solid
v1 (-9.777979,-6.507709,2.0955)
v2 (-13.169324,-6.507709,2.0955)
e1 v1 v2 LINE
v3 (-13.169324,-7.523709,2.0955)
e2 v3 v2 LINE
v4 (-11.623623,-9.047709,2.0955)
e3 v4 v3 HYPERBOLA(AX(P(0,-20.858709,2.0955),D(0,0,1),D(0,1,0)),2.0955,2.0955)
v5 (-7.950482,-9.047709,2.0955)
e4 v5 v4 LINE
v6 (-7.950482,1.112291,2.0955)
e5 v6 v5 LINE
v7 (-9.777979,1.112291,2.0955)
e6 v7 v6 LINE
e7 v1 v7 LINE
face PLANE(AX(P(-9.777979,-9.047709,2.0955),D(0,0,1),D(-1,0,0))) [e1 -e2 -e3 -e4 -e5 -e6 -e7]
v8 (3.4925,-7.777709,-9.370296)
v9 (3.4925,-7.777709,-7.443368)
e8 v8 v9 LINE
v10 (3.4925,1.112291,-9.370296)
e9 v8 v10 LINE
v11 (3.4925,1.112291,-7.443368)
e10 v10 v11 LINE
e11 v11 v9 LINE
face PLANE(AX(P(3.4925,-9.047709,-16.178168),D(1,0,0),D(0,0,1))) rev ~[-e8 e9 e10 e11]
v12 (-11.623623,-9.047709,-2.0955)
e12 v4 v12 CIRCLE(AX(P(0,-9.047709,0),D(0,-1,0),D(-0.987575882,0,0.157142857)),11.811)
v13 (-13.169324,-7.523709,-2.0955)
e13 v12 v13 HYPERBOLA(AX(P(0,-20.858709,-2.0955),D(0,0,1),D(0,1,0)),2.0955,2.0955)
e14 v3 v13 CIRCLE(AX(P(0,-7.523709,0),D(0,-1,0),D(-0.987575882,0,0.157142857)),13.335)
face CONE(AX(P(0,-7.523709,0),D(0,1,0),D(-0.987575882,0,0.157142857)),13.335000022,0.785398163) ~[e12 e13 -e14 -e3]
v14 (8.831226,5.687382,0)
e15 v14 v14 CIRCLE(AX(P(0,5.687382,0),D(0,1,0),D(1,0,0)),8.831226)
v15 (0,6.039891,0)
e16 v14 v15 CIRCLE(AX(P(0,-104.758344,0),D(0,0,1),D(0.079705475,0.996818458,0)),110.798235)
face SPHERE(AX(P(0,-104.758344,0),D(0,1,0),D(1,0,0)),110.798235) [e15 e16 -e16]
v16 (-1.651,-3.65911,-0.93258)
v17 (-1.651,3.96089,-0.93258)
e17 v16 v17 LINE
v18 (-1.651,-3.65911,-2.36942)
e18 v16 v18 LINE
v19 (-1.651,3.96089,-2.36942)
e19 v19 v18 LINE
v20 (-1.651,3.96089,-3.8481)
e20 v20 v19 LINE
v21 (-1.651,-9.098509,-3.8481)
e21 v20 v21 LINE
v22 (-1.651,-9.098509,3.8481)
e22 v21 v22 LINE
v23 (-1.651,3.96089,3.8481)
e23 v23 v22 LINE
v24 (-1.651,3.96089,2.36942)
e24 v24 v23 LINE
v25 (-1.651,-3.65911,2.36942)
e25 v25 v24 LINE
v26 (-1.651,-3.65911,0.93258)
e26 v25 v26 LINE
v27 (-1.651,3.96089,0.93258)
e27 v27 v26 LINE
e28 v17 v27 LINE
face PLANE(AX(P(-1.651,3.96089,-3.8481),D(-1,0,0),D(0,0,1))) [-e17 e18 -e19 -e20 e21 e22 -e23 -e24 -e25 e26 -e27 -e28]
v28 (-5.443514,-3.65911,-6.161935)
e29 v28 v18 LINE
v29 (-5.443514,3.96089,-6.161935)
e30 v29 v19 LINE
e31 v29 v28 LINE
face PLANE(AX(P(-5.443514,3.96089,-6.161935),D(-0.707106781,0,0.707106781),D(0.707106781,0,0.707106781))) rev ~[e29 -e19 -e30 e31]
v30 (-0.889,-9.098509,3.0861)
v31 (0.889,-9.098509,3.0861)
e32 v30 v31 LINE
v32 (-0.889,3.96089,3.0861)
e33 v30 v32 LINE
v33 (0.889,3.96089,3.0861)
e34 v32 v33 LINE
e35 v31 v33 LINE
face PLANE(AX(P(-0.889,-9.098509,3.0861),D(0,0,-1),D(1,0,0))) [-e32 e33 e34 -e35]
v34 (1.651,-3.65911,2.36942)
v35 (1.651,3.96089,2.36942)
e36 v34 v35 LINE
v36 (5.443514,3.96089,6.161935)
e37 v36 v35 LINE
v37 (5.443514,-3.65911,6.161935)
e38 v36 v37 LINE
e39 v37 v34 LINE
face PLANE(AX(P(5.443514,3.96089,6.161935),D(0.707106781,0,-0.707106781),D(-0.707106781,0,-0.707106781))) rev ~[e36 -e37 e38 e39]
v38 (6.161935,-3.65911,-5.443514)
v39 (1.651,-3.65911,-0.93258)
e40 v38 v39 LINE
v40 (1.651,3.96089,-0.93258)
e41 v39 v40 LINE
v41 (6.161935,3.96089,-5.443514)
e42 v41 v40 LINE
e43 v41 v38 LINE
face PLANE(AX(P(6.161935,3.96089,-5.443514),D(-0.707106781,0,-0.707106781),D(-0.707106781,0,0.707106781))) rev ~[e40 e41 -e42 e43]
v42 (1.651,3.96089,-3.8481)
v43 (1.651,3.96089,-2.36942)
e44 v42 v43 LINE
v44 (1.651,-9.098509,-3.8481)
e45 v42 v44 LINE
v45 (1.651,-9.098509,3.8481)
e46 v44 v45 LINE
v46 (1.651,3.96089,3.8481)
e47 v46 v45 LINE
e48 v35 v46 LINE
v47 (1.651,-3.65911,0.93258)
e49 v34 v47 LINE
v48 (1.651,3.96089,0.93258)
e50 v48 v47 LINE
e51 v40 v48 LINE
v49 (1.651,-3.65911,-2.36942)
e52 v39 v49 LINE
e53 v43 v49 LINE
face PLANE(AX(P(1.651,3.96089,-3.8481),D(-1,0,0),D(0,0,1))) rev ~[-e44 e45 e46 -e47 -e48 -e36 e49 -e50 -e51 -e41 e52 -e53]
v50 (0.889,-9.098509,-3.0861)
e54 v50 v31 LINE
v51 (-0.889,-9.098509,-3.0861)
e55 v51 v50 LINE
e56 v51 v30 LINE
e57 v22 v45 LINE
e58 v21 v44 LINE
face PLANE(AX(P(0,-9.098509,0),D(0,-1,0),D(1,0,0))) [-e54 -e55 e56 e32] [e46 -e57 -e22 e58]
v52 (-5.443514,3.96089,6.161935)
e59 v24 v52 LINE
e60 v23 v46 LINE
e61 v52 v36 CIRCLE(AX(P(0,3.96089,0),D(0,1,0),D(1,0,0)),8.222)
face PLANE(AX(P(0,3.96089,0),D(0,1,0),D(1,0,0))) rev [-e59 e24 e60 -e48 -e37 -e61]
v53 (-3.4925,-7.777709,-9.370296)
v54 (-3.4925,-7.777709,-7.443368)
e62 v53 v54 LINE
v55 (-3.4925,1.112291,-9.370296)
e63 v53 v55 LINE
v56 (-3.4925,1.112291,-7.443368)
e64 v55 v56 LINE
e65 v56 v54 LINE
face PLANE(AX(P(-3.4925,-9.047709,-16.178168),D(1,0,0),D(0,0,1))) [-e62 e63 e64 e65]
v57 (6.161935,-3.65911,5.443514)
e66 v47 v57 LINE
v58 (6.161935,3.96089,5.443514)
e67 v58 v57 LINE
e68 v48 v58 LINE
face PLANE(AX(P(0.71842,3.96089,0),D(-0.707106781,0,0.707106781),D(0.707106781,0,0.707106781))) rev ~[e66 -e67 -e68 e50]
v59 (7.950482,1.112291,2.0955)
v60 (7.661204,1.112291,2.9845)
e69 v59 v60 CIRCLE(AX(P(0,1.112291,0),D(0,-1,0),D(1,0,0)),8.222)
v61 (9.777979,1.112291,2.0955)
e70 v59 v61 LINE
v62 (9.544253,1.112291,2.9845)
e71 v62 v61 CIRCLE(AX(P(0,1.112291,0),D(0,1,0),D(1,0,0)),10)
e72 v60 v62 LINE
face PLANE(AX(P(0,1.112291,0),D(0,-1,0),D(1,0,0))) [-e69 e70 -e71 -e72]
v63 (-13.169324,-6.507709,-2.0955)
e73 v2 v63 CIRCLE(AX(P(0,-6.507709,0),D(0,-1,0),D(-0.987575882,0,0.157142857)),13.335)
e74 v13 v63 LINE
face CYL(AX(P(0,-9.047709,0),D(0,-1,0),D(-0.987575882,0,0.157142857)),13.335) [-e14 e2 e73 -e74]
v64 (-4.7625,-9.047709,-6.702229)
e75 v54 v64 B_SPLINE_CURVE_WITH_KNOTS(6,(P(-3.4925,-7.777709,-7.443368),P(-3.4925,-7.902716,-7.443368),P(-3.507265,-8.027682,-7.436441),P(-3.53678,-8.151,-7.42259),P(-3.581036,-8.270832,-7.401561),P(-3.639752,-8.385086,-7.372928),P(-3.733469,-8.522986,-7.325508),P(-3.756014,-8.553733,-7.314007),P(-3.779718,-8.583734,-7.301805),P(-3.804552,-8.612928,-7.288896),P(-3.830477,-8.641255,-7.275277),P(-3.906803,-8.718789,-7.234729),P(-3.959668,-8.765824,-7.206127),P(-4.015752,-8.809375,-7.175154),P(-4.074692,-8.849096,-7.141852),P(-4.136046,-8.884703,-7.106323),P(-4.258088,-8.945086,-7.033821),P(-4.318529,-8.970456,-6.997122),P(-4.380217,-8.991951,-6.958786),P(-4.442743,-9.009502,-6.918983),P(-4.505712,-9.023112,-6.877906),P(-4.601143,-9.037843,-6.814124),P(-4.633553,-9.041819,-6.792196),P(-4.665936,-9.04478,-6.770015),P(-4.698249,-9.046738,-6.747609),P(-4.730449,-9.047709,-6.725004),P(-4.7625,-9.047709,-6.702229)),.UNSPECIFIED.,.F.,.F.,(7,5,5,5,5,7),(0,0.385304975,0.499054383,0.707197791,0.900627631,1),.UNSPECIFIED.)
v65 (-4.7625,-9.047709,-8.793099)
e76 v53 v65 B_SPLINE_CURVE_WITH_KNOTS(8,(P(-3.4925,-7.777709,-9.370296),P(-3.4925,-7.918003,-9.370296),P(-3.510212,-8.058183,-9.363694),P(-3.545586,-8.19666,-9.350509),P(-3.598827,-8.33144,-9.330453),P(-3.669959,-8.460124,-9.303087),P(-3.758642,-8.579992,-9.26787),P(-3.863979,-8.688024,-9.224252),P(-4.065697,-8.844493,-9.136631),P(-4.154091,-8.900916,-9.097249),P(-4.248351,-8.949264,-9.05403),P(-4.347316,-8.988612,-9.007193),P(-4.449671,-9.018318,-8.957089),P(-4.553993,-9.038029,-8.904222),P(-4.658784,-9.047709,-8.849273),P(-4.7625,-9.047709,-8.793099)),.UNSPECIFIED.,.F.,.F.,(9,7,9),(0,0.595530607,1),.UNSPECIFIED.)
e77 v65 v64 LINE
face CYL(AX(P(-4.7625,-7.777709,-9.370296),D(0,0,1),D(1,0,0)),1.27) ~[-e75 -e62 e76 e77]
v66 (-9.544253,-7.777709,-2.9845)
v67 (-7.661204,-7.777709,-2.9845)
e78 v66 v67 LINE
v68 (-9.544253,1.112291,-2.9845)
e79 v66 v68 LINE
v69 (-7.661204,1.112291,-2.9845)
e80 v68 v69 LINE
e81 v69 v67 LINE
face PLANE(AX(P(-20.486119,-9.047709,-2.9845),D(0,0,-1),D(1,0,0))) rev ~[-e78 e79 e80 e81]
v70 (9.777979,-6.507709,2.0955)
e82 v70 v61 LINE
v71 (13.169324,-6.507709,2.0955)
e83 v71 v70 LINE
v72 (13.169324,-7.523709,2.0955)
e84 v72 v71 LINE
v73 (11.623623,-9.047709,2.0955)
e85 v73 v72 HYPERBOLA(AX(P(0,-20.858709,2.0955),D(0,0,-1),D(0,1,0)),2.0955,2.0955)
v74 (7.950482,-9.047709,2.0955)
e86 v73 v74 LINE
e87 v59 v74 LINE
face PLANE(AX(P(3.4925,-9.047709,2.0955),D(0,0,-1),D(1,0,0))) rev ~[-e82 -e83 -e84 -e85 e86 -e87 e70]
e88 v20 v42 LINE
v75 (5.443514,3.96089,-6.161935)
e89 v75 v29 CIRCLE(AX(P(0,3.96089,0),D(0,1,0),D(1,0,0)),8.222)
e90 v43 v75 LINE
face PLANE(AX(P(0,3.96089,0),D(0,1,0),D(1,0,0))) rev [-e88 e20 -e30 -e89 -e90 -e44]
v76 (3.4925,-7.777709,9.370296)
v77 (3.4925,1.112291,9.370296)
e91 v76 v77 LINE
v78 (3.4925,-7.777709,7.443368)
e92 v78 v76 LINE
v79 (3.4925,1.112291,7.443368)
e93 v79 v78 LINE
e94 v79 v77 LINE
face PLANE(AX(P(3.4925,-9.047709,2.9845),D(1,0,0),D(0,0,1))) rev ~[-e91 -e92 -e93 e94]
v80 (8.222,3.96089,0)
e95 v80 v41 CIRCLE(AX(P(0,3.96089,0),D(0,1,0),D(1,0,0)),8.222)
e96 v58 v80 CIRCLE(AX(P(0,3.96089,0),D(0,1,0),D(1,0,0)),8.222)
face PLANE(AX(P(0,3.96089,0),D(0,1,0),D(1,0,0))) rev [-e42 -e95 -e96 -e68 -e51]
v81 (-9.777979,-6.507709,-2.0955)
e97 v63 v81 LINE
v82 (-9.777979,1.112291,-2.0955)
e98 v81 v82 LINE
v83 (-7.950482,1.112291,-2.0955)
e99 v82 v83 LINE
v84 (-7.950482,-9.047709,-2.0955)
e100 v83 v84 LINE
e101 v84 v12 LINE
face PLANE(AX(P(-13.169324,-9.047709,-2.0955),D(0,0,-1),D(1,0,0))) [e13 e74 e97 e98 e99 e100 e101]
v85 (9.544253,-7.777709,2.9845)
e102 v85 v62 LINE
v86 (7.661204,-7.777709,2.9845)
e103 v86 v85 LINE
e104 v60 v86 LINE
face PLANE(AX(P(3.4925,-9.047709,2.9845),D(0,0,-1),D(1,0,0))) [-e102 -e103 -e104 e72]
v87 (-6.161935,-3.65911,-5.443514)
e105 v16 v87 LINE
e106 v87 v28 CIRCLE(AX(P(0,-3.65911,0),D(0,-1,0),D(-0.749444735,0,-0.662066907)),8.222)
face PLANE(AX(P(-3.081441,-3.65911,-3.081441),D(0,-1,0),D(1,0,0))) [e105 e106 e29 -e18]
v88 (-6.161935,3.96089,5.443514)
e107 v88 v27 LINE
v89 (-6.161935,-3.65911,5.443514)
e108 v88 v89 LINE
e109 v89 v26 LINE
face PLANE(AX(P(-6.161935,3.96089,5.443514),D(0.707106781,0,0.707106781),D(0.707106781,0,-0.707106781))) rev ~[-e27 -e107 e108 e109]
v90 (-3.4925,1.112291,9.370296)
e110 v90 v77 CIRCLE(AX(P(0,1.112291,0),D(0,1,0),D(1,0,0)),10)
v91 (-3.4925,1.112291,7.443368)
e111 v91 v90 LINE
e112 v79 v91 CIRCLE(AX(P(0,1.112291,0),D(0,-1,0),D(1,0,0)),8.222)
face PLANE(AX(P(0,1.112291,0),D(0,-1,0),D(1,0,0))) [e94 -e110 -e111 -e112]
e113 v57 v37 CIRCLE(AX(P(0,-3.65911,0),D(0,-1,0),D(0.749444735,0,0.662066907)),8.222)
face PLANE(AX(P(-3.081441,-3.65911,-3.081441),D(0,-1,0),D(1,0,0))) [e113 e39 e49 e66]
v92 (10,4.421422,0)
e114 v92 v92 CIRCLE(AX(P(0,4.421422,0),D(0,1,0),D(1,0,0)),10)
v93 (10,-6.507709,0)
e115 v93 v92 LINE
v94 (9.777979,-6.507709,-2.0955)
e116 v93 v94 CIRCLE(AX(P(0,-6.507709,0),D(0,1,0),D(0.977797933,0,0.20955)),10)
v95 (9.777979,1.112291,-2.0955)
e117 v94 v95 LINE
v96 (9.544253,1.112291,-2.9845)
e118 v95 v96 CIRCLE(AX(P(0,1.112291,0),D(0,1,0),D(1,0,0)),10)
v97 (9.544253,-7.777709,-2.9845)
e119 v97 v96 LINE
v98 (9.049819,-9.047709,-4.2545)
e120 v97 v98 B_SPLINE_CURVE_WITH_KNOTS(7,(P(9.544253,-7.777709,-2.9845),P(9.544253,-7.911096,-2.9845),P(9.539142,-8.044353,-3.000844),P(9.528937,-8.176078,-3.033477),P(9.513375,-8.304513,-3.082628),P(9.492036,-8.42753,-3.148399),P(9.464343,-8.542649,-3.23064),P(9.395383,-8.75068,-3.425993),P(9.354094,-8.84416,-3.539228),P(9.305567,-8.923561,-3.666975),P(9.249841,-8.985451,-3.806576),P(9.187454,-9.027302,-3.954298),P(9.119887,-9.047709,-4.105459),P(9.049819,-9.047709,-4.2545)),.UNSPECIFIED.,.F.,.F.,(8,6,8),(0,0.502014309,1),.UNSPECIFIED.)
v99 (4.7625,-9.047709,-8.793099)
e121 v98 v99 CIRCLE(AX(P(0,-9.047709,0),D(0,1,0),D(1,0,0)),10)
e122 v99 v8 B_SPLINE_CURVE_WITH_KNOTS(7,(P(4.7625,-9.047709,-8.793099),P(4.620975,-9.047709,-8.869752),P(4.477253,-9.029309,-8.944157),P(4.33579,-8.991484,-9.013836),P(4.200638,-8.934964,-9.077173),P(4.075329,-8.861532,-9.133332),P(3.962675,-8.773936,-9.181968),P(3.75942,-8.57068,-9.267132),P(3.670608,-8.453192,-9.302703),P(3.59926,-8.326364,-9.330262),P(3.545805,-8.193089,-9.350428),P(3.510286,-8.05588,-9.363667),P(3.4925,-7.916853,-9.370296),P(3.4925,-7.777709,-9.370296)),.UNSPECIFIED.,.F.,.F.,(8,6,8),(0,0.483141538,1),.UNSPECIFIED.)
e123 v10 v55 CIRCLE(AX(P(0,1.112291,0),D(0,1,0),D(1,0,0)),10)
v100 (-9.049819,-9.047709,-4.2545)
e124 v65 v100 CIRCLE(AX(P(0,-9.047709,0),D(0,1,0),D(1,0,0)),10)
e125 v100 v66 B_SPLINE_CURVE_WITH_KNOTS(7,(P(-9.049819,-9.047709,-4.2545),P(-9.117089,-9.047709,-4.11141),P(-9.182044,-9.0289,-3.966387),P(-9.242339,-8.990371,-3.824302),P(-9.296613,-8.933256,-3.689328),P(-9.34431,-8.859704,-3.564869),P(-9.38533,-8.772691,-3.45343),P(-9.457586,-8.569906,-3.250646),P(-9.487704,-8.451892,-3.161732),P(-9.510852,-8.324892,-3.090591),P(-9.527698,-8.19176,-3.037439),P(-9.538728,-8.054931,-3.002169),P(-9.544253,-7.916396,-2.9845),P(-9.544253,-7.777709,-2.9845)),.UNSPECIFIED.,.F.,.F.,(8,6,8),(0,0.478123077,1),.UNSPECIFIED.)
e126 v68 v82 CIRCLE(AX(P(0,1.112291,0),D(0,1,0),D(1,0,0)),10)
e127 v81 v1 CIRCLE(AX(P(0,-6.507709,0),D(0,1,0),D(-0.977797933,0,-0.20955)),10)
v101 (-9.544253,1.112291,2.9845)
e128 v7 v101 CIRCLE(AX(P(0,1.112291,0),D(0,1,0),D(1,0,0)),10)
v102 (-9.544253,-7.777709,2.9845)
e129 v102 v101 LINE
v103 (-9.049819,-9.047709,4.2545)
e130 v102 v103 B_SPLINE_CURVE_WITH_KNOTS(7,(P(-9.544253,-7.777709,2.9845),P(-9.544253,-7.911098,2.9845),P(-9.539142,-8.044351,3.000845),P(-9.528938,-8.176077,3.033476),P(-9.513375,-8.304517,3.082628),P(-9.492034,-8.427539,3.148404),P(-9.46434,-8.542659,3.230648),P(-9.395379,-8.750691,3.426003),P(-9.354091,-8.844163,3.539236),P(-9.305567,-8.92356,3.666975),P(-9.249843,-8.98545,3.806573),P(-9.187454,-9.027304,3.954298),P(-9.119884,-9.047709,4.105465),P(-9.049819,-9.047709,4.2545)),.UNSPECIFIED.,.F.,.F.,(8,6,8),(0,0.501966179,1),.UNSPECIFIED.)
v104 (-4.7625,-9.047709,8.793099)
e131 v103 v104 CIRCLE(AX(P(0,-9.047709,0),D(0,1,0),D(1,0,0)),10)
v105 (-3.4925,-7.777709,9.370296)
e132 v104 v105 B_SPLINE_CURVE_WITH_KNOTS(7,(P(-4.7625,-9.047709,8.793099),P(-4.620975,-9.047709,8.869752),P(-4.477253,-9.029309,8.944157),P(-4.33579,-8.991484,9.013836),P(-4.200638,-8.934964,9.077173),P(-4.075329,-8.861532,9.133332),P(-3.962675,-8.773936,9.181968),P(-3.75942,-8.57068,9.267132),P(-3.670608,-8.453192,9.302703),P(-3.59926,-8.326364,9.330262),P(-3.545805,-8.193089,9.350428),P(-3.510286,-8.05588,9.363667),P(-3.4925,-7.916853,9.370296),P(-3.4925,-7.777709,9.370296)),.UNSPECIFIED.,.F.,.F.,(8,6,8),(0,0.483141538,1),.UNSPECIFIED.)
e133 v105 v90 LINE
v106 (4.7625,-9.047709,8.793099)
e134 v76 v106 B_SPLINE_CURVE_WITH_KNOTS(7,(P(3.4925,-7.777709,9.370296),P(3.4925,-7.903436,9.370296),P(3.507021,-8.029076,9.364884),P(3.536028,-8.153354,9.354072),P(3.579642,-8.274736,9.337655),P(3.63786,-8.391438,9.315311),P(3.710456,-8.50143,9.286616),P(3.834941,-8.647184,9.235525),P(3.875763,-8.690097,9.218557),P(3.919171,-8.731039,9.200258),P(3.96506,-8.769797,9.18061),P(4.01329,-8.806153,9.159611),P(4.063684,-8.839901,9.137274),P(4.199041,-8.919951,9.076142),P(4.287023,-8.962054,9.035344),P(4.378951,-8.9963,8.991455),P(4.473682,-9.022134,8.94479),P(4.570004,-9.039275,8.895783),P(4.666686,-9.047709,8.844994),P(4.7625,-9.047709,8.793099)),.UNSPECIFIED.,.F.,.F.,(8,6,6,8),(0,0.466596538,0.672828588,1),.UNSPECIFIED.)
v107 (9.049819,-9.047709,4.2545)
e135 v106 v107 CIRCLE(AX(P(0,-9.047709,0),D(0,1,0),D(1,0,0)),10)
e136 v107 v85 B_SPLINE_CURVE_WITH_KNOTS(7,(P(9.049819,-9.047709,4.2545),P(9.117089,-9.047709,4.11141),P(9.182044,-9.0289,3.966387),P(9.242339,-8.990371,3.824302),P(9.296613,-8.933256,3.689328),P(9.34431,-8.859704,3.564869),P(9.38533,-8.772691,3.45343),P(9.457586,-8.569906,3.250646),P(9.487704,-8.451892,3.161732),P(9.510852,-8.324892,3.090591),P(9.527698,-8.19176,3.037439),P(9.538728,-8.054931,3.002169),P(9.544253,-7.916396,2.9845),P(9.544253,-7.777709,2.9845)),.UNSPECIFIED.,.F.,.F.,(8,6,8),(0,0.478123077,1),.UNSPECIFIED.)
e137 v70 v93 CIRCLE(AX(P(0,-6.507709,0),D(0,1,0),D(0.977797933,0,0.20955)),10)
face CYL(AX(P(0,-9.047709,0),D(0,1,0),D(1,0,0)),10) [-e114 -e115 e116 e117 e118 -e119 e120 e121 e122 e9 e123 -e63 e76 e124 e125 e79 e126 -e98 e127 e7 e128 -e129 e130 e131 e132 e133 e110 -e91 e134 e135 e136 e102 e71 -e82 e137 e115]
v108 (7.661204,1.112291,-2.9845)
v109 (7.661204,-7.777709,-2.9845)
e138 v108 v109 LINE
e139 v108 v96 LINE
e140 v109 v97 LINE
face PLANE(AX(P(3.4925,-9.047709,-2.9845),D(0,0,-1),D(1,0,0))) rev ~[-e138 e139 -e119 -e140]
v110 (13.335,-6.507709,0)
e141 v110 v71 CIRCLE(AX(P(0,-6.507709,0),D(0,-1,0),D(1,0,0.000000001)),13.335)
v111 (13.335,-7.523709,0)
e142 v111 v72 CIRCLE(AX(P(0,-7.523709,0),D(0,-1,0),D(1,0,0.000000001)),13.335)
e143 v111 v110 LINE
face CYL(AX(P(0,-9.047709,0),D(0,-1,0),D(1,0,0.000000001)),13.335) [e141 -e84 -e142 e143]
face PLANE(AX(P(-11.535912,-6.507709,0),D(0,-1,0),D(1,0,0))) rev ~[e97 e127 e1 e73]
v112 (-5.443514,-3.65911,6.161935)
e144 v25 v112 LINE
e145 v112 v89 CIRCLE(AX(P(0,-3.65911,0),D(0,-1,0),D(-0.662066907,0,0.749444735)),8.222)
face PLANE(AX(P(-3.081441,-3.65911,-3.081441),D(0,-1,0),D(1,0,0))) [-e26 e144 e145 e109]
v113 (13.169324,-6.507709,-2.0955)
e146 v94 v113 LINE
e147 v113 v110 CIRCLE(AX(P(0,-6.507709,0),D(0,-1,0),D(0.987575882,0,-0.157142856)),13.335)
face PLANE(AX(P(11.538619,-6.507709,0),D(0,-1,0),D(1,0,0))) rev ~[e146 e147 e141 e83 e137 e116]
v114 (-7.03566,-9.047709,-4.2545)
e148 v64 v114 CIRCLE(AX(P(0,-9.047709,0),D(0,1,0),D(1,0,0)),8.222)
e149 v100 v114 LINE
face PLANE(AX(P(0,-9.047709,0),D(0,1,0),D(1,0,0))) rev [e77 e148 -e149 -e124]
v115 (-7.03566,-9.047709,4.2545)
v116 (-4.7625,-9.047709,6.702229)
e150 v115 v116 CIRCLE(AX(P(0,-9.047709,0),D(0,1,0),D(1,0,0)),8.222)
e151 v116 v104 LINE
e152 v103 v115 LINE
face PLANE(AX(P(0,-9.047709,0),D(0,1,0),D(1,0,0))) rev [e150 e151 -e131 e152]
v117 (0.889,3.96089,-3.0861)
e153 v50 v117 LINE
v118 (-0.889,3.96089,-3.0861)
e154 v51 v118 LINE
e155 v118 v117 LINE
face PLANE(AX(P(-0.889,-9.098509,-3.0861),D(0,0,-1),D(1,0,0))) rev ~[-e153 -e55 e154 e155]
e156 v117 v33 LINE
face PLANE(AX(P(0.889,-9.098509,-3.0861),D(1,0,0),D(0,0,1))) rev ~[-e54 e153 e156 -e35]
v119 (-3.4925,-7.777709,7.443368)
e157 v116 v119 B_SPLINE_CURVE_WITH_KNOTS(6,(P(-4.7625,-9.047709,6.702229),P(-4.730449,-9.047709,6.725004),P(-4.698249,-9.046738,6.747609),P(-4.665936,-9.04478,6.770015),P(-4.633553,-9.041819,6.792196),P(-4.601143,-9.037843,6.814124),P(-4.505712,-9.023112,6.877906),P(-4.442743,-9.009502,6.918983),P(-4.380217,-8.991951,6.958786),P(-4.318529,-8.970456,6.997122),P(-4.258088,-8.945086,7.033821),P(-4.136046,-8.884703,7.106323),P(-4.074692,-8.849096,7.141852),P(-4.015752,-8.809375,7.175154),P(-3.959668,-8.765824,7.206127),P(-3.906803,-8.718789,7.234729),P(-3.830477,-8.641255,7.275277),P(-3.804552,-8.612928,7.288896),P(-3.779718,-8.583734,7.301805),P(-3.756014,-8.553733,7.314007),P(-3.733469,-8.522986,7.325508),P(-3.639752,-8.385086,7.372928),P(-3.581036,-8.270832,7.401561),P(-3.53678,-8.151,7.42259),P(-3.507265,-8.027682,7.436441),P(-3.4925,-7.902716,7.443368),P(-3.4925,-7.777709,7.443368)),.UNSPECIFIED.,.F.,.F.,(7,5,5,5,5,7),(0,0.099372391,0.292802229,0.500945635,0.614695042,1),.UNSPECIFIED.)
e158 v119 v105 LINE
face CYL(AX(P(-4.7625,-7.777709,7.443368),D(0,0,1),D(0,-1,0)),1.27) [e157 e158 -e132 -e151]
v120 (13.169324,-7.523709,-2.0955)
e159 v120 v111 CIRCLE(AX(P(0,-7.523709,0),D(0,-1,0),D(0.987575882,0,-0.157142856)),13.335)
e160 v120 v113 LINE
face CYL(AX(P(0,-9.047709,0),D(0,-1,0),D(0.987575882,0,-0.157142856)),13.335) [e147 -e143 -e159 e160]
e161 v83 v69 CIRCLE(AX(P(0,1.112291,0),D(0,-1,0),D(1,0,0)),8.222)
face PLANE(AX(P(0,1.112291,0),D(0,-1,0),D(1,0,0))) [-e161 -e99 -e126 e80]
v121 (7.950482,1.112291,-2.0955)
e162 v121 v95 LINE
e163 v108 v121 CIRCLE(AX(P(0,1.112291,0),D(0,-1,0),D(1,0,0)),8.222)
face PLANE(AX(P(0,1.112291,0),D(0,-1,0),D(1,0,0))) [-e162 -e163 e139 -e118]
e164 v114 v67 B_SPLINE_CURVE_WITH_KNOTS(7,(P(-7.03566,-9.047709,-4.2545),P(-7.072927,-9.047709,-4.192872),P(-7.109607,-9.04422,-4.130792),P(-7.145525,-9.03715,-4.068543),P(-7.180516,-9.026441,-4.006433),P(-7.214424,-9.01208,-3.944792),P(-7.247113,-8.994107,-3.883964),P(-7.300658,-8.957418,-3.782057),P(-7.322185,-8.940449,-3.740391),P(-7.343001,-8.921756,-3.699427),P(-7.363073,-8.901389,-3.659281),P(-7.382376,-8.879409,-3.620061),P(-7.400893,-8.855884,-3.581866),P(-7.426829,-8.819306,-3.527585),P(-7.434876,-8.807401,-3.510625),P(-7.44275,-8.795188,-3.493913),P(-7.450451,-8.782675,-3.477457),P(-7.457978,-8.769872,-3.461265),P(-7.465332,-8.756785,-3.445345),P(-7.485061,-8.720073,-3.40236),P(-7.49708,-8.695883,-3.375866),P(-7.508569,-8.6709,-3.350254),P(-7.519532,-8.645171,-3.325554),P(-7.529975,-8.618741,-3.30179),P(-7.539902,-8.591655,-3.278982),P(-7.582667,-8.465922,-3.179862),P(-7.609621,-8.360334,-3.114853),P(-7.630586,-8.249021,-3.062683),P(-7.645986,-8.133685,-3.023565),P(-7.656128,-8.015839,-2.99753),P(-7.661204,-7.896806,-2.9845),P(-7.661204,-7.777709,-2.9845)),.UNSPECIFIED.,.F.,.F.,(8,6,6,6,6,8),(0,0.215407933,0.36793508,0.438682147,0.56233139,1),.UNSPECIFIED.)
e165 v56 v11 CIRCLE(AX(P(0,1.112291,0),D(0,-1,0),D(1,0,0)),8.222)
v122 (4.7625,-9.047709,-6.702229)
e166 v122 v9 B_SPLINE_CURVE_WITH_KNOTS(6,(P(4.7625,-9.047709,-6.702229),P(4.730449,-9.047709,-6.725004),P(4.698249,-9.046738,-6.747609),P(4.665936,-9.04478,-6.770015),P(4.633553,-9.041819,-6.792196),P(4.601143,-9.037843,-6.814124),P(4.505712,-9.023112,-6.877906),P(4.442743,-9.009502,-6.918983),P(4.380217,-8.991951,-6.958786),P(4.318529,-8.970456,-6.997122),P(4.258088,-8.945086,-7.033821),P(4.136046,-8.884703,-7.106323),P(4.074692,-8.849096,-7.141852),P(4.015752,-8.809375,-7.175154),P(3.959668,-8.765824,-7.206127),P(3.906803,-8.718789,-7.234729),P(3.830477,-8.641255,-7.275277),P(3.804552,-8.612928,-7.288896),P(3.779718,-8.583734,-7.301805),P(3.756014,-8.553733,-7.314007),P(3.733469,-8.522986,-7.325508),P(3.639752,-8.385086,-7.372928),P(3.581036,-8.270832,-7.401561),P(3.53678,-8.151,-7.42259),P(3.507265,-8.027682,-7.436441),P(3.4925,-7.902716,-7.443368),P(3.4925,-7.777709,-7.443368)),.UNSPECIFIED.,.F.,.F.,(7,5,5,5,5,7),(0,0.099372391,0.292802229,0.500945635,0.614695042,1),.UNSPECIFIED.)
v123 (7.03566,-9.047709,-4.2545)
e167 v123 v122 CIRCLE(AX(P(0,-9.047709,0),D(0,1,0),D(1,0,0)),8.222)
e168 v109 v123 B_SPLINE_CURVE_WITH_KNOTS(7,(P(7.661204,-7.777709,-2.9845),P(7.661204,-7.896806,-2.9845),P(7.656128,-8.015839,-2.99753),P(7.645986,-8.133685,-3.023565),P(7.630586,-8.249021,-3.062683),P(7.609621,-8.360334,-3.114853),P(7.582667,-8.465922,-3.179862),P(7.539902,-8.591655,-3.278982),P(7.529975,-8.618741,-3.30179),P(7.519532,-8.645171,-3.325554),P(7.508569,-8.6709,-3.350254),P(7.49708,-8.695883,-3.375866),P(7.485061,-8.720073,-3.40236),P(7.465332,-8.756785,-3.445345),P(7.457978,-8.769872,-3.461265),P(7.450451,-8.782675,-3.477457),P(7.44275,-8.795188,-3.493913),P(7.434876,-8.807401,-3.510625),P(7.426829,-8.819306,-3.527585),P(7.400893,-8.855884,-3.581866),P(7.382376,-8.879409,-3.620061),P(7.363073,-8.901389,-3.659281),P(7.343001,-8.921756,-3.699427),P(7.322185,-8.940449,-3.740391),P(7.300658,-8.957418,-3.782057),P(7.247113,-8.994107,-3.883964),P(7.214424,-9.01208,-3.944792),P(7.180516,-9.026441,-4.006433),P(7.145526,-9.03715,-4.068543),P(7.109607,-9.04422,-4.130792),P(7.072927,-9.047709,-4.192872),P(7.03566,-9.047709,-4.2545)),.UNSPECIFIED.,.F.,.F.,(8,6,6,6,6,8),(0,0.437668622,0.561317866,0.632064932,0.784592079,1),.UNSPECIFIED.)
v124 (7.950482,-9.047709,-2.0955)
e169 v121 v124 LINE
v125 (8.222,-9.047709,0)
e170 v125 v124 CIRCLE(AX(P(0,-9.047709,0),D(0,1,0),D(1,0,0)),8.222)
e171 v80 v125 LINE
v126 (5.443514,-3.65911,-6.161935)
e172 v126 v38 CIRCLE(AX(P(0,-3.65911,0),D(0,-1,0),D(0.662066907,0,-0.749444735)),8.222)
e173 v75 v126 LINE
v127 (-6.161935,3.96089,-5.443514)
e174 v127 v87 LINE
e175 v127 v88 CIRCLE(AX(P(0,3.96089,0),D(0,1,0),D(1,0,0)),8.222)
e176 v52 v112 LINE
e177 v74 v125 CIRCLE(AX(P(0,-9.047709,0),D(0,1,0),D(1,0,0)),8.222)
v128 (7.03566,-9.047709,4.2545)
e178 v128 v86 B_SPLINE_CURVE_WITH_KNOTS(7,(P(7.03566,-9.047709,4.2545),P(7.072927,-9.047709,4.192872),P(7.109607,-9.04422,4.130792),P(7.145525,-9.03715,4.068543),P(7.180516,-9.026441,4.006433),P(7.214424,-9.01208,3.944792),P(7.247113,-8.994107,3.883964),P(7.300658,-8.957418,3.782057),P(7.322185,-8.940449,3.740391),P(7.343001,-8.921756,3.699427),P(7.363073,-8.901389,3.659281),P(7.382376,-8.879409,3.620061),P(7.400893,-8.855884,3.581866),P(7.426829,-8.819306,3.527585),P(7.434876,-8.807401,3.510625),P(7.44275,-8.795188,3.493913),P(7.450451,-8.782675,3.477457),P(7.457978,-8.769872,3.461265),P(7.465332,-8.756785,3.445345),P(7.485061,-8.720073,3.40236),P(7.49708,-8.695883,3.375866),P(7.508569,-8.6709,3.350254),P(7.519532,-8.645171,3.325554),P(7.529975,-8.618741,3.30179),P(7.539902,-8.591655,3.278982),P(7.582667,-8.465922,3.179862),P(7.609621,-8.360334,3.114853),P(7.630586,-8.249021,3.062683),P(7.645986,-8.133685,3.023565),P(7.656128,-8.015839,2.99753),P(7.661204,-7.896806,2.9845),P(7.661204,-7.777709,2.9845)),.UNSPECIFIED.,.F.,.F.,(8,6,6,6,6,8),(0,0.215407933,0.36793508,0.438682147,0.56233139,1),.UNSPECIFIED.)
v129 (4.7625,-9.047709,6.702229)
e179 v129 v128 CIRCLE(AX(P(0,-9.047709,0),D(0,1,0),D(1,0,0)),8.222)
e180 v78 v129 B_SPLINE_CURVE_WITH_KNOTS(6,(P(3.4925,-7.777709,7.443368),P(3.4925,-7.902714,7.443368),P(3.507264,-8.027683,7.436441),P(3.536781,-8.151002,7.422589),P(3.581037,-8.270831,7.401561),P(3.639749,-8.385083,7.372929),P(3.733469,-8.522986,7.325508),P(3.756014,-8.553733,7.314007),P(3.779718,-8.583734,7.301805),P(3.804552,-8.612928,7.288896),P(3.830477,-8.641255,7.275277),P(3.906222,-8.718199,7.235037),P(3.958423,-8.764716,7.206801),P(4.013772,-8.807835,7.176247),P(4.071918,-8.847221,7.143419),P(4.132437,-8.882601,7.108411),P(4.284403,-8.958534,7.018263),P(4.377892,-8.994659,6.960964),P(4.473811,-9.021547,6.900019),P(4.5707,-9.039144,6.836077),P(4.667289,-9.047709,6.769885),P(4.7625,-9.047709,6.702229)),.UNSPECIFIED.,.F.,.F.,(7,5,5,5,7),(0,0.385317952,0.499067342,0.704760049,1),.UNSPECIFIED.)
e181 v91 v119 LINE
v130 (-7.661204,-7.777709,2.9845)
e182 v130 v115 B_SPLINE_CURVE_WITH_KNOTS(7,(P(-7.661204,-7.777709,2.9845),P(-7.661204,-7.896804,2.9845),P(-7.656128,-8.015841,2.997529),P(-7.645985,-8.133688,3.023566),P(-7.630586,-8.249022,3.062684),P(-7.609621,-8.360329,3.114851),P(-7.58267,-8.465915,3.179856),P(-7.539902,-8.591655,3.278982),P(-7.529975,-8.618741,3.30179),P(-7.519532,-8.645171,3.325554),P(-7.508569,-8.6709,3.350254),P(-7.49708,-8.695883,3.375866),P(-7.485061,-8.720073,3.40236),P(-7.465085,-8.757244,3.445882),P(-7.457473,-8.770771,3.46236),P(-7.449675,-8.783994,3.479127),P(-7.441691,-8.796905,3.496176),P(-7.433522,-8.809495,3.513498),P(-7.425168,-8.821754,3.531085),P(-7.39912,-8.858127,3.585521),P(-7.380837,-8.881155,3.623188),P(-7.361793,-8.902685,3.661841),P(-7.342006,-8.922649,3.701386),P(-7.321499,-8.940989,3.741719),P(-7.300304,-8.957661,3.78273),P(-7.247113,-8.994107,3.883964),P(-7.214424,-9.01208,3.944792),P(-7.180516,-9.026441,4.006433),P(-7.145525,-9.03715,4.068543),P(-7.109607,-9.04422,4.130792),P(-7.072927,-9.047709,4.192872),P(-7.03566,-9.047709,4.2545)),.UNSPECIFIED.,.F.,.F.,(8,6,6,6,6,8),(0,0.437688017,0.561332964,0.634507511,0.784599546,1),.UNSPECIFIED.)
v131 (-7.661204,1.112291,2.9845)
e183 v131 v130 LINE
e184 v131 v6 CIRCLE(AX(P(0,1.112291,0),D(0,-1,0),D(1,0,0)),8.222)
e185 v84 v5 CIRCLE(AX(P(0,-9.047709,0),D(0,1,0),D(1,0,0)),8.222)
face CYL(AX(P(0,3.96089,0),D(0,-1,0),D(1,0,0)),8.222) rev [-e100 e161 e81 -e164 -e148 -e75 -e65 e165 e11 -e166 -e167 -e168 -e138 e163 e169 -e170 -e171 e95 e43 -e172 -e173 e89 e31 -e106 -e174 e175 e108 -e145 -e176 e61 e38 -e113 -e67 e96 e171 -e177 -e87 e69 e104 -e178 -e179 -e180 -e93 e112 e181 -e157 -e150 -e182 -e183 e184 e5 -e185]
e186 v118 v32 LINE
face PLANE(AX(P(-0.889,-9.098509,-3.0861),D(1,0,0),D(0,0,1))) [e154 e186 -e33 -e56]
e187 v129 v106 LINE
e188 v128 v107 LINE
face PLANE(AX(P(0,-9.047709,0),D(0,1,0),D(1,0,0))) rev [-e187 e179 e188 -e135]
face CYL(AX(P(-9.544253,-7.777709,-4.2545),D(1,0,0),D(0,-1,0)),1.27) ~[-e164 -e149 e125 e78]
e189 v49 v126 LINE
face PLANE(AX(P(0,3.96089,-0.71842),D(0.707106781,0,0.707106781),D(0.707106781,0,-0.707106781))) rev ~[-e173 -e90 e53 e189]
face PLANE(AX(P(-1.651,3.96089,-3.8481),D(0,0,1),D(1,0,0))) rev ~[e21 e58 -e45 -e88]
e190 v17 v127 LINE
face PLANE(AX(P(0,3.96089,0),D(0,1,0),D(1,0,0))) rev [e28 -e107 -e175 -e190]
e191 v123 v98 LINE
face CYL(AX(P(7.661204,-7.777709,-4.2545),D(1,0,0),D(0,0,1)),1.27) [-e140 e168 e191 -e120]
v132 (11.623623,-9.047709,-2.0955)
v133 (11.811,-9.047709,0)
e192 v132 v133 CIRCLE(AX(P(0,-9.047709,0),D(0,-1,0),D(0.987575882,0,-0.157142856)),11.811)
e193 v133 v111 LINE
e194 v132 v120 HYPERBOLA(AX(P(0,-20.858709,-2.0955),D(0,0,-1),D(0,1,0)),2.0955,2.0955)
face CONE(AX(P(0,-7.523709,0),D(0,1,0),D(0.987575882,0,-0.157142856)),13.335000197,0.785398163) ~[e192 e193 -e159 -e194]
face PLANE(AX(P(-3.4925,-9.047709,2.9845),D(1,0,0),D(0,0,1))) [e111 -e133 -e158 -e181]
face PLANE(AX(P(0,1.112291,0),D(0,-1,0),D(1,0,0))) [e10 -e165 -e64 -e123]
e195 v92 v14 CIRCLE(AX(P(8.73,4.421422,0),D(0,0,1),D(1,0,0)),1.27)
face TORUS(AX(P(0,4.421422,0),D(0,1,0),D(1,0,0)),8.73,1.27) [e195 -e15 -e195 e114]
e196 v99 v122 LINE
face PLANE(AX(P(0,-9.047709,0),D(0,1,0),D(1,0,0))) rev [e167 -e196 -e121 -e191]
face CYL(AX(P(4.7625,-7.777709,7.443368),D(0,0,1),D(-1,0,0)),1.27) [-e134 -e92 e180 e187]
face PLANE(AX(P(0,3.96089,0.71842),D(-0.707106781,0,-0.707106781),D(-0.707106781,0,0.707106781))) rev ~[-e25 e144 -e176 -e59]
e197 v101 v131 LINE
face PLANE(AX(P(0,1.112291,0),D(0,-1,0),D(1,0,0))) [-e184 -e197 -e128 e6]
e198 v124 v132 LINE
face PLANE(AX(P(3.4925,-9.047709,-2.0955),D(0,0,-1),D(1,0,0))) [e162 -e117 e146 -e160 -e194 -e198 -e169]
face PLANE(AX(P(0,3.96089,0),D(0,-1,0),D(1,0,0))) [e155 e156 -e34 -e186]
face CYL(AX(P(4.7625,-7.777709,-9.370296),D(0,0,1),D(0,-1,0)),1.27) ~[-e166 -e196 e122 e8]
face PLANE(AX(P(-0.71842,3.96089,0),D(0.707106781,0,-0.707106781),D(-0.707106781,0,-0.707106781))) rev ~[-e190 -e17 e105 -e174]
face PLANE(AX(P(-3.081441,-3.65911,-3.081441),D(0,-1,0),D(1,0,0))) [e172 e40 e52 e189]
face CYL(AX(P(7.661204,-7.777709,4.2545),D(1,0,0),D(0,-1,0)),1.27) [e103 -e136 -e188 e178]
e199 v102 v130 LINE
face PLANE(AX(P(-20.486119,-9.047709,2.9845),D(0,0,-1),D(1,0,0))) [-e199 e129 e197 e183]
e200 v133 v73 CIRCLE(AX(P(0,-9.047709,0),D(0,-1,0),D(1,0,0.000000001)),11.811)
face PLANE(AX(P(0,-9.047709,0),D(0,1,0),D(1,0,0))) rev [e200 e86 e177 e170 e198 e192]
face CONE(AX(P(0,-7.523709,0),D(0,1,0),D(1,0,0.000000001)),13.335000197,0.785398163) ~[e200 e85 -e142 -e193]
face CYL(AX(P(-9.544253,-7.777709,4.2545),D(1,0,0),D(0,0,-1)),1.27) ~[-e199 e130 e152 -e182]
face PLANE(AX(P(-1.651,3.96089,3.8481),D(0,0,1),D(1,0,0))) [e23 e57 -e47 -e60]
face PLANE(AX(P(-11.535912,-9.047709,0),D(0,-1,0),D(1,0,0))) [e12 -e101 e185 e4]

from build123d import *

# Parameters (mm, degrees)
SKETCH2_W     = 6.985
SKETCH2_H     = 32.356336156
SKETCH2_W_2   = 40.972237954
SKETCH2_H_2   = 0.889
CUTOUT_DEPTH  = 10.16
TAB_DEPTH     = 2.54
TAB_CHMF_SIZE = 1.524
CROSS_DEPTH   = 7.62
SKETCH4_W     = 3.302
SKETCH4_H     = 7.6962
BOX_DEPTH     = 13.059399
SKETCH6_W     = 1.778
SKETCH6_H     = 6.1722
BOXCUT_DEPTH  = 13.059399
FILLET1_R     = 1.27


with BuildPart() as part:
    # Sketch1 → dome/base (revolve)
    with BuildSketch(Plane.XY):
        with BuildLine():
            Line((0, 6.039891065), (0, 3.960890157))
            Line((0, 3.960890157), (8.222, 3.960890157))
            Line((8.222, 3.960890157), (8.222, -9.047708935))
            Line((8.222, -9.047708935), (10, -9.047708935))
            Line((10, -9.047708935), (10, 4.421422334))
            ThreePointArc((10, 4.421422334), (9.66312833, 5.282916106), (8.831225953, 5.687381775))
            ThreePointArc((8.831225953, 5.687381775), (4.419129287, 5.951728667), (0, 6.039891065))
        make_face()
    revolve(axis=Axis((0, 0, 0), (0, 1, 0)))

    # Sketch2 → cutout (cut)
    with BuildSketch(Plane.XZ.offset(9.047708935)):
        Rectangle(SKETCH2_W, SKETCH2_H)
        with Locations((0, 2.54)):
            Rectangle(SKETCH2_W_2, SKETCH2_H_2)
        with Locations((0, -2.54)):
            Rectangle(SKETCH2_W_2, SKETCH2_H_2)
    extrude(amount=-CUTOUT_DEPTH, mode=Mode.SUBTRACT)

    # Sketch3 → tab (add)
    with BuildSketch(Plane.XZ.offset(9.047708935)):
        with BuildLine():
            Line((-13.169324385, -2.0955), (-9.777979329, -2.0955))
            ThreePointArc((-9.777979329, -2.0955), (-10, 0), (-9.777979329, 2.0955))
            Line((-9.777979329, 2.0955), (-13.169324385, 2.0955))
            ThreePointArc((-13.169324385, 2.0955), (-13.335, 0), (-13.169324385, -2.0955))
        make_face()
        with BuildLine():
            Line((9.777979329, -2.0955), (13.169324385, -2.0955))
            ThreePointArc((13.169324385, -2.0955), (13.293516571, -1.051019583), (13.335, 0))
            ThreePointArc((13.335, 0), (13.293516571, 1.051019583), (13.169324385, 2.0955))
            Line((13.169324385, 2.0955), (9.777979329, 2.0955))
            ThreePointArc((9.777979329, 2.0955), (10, 0), (9.777979329, -2.0955))
        make_face()
    extrude(amount=-TAB_DEPTH)

    # tab chmf
    tab_chmf_edges = [part.edges().sort_by_distance(p)[0] for p in [
        (-13.335, -9.047708935, 0),
        (13.335, -9.047708935, 0),
    ]]
    chamfer(tab_chmf_edges, length=TAB_CHMF_SIZE)

    # Sketch5 → cross (add)
    with BuildSketch(Plane.XZ.offset(-3.960890157)):
        with BuildLine():
            Line((0, -0.71842049), (-0.71842049, 0))
            Line((-0.71842049, 0), (-6.161934605, -5.443514115))
            ThreePointArc((-6.161934605, -5.443514115), (-5.813831955, -5.813831955), (-5.443514115, -6.161934605))
            Line((-5.443514115, -6.161934605), (0, -0.71842049))
        make_face()
        with BuildLine():
            Line((6.161934605, -5.443514115), (0.71842049, 0))
            Line((0.71842049, 0), (0, -0.71842049))
            Line((0, -0.71842049), (5.443514115, -6.161934605))
            ThreePointArc((5.443514115, -6.161934605), (5.813831955, -5.813831955), (6.161934605, -5.443514115))
        make_face()
        with BuildLine():
            Line((5.443514115, 6.161934605), (0, 0.71842049))
            Line((0, 0.71842049), (0.71842049, 0))
            Line((0.71842049, 0), (6.161934605, 5.443514115))
            ThreePointArc((6.161934605, 5.443514115), (5.813831955, 5.813831955), (5.443514115, 6.161934605))
        make_face()
        Polygon((0.71842049, 0), (0, 0.71842049), (-0.71842049, 0), (0, -0.71842049), align=None)
        with BuildLine():
            Line((-0.71842049, 0), (0, 0.71842049))
            Line((0, 0.71842049), (-5.443514115, 6.161934605))
            ThreePointArc((-5.443514115, 6.161934605), (-5.813831955, 5.813831955), (-6.161934605, 5.443514115))
            Line((-6.161934605, 5.443514115), (-0.71842049, 0))
        make_face()
    extrude(amount=CROSS_DEPTH)

    # Sketch4 → box (add)
    with BuildSketch(Plane.XZ.offset(-3.960890157)):
        Rectangle(SKETCH4_W, SKETCH4_H)
    extrude(amount=BOX_DEPTH)

    # Sketch6 → boxcut (cut)
    with BuildSketch(Plane.XZ.offset(9.098508935)):
        Rectangle(SKETCH6_W, SKETCH6_H)
    extrude(amount=-BOXCUT_DEPTH, mode=Mode.SUBTRACT)

    # Fillet1
    fillet1_edges = [part.edges().sort_by_distance(p)[0] for p in [
        (-3.4925, -9.047708935, -8.406831929),
        (3.4925, -9.047708935, -8.406831929),
        (8.602728257, -9.047708935, -2.9845),
        (-8.602728257, -9.047708935, -2.9845),
        (-3.4925, -9.047708935, 8.406831929),
        (3.4925, -9.047708935, 8.406831929),
        (-8.602728257, -9.047708935, 2.9845),
        (8.602728257, -9.047708935, 2.9845),
    ]]
    fillet(fillet1_edges, radius=FILLET1_R)


solid = part.part
